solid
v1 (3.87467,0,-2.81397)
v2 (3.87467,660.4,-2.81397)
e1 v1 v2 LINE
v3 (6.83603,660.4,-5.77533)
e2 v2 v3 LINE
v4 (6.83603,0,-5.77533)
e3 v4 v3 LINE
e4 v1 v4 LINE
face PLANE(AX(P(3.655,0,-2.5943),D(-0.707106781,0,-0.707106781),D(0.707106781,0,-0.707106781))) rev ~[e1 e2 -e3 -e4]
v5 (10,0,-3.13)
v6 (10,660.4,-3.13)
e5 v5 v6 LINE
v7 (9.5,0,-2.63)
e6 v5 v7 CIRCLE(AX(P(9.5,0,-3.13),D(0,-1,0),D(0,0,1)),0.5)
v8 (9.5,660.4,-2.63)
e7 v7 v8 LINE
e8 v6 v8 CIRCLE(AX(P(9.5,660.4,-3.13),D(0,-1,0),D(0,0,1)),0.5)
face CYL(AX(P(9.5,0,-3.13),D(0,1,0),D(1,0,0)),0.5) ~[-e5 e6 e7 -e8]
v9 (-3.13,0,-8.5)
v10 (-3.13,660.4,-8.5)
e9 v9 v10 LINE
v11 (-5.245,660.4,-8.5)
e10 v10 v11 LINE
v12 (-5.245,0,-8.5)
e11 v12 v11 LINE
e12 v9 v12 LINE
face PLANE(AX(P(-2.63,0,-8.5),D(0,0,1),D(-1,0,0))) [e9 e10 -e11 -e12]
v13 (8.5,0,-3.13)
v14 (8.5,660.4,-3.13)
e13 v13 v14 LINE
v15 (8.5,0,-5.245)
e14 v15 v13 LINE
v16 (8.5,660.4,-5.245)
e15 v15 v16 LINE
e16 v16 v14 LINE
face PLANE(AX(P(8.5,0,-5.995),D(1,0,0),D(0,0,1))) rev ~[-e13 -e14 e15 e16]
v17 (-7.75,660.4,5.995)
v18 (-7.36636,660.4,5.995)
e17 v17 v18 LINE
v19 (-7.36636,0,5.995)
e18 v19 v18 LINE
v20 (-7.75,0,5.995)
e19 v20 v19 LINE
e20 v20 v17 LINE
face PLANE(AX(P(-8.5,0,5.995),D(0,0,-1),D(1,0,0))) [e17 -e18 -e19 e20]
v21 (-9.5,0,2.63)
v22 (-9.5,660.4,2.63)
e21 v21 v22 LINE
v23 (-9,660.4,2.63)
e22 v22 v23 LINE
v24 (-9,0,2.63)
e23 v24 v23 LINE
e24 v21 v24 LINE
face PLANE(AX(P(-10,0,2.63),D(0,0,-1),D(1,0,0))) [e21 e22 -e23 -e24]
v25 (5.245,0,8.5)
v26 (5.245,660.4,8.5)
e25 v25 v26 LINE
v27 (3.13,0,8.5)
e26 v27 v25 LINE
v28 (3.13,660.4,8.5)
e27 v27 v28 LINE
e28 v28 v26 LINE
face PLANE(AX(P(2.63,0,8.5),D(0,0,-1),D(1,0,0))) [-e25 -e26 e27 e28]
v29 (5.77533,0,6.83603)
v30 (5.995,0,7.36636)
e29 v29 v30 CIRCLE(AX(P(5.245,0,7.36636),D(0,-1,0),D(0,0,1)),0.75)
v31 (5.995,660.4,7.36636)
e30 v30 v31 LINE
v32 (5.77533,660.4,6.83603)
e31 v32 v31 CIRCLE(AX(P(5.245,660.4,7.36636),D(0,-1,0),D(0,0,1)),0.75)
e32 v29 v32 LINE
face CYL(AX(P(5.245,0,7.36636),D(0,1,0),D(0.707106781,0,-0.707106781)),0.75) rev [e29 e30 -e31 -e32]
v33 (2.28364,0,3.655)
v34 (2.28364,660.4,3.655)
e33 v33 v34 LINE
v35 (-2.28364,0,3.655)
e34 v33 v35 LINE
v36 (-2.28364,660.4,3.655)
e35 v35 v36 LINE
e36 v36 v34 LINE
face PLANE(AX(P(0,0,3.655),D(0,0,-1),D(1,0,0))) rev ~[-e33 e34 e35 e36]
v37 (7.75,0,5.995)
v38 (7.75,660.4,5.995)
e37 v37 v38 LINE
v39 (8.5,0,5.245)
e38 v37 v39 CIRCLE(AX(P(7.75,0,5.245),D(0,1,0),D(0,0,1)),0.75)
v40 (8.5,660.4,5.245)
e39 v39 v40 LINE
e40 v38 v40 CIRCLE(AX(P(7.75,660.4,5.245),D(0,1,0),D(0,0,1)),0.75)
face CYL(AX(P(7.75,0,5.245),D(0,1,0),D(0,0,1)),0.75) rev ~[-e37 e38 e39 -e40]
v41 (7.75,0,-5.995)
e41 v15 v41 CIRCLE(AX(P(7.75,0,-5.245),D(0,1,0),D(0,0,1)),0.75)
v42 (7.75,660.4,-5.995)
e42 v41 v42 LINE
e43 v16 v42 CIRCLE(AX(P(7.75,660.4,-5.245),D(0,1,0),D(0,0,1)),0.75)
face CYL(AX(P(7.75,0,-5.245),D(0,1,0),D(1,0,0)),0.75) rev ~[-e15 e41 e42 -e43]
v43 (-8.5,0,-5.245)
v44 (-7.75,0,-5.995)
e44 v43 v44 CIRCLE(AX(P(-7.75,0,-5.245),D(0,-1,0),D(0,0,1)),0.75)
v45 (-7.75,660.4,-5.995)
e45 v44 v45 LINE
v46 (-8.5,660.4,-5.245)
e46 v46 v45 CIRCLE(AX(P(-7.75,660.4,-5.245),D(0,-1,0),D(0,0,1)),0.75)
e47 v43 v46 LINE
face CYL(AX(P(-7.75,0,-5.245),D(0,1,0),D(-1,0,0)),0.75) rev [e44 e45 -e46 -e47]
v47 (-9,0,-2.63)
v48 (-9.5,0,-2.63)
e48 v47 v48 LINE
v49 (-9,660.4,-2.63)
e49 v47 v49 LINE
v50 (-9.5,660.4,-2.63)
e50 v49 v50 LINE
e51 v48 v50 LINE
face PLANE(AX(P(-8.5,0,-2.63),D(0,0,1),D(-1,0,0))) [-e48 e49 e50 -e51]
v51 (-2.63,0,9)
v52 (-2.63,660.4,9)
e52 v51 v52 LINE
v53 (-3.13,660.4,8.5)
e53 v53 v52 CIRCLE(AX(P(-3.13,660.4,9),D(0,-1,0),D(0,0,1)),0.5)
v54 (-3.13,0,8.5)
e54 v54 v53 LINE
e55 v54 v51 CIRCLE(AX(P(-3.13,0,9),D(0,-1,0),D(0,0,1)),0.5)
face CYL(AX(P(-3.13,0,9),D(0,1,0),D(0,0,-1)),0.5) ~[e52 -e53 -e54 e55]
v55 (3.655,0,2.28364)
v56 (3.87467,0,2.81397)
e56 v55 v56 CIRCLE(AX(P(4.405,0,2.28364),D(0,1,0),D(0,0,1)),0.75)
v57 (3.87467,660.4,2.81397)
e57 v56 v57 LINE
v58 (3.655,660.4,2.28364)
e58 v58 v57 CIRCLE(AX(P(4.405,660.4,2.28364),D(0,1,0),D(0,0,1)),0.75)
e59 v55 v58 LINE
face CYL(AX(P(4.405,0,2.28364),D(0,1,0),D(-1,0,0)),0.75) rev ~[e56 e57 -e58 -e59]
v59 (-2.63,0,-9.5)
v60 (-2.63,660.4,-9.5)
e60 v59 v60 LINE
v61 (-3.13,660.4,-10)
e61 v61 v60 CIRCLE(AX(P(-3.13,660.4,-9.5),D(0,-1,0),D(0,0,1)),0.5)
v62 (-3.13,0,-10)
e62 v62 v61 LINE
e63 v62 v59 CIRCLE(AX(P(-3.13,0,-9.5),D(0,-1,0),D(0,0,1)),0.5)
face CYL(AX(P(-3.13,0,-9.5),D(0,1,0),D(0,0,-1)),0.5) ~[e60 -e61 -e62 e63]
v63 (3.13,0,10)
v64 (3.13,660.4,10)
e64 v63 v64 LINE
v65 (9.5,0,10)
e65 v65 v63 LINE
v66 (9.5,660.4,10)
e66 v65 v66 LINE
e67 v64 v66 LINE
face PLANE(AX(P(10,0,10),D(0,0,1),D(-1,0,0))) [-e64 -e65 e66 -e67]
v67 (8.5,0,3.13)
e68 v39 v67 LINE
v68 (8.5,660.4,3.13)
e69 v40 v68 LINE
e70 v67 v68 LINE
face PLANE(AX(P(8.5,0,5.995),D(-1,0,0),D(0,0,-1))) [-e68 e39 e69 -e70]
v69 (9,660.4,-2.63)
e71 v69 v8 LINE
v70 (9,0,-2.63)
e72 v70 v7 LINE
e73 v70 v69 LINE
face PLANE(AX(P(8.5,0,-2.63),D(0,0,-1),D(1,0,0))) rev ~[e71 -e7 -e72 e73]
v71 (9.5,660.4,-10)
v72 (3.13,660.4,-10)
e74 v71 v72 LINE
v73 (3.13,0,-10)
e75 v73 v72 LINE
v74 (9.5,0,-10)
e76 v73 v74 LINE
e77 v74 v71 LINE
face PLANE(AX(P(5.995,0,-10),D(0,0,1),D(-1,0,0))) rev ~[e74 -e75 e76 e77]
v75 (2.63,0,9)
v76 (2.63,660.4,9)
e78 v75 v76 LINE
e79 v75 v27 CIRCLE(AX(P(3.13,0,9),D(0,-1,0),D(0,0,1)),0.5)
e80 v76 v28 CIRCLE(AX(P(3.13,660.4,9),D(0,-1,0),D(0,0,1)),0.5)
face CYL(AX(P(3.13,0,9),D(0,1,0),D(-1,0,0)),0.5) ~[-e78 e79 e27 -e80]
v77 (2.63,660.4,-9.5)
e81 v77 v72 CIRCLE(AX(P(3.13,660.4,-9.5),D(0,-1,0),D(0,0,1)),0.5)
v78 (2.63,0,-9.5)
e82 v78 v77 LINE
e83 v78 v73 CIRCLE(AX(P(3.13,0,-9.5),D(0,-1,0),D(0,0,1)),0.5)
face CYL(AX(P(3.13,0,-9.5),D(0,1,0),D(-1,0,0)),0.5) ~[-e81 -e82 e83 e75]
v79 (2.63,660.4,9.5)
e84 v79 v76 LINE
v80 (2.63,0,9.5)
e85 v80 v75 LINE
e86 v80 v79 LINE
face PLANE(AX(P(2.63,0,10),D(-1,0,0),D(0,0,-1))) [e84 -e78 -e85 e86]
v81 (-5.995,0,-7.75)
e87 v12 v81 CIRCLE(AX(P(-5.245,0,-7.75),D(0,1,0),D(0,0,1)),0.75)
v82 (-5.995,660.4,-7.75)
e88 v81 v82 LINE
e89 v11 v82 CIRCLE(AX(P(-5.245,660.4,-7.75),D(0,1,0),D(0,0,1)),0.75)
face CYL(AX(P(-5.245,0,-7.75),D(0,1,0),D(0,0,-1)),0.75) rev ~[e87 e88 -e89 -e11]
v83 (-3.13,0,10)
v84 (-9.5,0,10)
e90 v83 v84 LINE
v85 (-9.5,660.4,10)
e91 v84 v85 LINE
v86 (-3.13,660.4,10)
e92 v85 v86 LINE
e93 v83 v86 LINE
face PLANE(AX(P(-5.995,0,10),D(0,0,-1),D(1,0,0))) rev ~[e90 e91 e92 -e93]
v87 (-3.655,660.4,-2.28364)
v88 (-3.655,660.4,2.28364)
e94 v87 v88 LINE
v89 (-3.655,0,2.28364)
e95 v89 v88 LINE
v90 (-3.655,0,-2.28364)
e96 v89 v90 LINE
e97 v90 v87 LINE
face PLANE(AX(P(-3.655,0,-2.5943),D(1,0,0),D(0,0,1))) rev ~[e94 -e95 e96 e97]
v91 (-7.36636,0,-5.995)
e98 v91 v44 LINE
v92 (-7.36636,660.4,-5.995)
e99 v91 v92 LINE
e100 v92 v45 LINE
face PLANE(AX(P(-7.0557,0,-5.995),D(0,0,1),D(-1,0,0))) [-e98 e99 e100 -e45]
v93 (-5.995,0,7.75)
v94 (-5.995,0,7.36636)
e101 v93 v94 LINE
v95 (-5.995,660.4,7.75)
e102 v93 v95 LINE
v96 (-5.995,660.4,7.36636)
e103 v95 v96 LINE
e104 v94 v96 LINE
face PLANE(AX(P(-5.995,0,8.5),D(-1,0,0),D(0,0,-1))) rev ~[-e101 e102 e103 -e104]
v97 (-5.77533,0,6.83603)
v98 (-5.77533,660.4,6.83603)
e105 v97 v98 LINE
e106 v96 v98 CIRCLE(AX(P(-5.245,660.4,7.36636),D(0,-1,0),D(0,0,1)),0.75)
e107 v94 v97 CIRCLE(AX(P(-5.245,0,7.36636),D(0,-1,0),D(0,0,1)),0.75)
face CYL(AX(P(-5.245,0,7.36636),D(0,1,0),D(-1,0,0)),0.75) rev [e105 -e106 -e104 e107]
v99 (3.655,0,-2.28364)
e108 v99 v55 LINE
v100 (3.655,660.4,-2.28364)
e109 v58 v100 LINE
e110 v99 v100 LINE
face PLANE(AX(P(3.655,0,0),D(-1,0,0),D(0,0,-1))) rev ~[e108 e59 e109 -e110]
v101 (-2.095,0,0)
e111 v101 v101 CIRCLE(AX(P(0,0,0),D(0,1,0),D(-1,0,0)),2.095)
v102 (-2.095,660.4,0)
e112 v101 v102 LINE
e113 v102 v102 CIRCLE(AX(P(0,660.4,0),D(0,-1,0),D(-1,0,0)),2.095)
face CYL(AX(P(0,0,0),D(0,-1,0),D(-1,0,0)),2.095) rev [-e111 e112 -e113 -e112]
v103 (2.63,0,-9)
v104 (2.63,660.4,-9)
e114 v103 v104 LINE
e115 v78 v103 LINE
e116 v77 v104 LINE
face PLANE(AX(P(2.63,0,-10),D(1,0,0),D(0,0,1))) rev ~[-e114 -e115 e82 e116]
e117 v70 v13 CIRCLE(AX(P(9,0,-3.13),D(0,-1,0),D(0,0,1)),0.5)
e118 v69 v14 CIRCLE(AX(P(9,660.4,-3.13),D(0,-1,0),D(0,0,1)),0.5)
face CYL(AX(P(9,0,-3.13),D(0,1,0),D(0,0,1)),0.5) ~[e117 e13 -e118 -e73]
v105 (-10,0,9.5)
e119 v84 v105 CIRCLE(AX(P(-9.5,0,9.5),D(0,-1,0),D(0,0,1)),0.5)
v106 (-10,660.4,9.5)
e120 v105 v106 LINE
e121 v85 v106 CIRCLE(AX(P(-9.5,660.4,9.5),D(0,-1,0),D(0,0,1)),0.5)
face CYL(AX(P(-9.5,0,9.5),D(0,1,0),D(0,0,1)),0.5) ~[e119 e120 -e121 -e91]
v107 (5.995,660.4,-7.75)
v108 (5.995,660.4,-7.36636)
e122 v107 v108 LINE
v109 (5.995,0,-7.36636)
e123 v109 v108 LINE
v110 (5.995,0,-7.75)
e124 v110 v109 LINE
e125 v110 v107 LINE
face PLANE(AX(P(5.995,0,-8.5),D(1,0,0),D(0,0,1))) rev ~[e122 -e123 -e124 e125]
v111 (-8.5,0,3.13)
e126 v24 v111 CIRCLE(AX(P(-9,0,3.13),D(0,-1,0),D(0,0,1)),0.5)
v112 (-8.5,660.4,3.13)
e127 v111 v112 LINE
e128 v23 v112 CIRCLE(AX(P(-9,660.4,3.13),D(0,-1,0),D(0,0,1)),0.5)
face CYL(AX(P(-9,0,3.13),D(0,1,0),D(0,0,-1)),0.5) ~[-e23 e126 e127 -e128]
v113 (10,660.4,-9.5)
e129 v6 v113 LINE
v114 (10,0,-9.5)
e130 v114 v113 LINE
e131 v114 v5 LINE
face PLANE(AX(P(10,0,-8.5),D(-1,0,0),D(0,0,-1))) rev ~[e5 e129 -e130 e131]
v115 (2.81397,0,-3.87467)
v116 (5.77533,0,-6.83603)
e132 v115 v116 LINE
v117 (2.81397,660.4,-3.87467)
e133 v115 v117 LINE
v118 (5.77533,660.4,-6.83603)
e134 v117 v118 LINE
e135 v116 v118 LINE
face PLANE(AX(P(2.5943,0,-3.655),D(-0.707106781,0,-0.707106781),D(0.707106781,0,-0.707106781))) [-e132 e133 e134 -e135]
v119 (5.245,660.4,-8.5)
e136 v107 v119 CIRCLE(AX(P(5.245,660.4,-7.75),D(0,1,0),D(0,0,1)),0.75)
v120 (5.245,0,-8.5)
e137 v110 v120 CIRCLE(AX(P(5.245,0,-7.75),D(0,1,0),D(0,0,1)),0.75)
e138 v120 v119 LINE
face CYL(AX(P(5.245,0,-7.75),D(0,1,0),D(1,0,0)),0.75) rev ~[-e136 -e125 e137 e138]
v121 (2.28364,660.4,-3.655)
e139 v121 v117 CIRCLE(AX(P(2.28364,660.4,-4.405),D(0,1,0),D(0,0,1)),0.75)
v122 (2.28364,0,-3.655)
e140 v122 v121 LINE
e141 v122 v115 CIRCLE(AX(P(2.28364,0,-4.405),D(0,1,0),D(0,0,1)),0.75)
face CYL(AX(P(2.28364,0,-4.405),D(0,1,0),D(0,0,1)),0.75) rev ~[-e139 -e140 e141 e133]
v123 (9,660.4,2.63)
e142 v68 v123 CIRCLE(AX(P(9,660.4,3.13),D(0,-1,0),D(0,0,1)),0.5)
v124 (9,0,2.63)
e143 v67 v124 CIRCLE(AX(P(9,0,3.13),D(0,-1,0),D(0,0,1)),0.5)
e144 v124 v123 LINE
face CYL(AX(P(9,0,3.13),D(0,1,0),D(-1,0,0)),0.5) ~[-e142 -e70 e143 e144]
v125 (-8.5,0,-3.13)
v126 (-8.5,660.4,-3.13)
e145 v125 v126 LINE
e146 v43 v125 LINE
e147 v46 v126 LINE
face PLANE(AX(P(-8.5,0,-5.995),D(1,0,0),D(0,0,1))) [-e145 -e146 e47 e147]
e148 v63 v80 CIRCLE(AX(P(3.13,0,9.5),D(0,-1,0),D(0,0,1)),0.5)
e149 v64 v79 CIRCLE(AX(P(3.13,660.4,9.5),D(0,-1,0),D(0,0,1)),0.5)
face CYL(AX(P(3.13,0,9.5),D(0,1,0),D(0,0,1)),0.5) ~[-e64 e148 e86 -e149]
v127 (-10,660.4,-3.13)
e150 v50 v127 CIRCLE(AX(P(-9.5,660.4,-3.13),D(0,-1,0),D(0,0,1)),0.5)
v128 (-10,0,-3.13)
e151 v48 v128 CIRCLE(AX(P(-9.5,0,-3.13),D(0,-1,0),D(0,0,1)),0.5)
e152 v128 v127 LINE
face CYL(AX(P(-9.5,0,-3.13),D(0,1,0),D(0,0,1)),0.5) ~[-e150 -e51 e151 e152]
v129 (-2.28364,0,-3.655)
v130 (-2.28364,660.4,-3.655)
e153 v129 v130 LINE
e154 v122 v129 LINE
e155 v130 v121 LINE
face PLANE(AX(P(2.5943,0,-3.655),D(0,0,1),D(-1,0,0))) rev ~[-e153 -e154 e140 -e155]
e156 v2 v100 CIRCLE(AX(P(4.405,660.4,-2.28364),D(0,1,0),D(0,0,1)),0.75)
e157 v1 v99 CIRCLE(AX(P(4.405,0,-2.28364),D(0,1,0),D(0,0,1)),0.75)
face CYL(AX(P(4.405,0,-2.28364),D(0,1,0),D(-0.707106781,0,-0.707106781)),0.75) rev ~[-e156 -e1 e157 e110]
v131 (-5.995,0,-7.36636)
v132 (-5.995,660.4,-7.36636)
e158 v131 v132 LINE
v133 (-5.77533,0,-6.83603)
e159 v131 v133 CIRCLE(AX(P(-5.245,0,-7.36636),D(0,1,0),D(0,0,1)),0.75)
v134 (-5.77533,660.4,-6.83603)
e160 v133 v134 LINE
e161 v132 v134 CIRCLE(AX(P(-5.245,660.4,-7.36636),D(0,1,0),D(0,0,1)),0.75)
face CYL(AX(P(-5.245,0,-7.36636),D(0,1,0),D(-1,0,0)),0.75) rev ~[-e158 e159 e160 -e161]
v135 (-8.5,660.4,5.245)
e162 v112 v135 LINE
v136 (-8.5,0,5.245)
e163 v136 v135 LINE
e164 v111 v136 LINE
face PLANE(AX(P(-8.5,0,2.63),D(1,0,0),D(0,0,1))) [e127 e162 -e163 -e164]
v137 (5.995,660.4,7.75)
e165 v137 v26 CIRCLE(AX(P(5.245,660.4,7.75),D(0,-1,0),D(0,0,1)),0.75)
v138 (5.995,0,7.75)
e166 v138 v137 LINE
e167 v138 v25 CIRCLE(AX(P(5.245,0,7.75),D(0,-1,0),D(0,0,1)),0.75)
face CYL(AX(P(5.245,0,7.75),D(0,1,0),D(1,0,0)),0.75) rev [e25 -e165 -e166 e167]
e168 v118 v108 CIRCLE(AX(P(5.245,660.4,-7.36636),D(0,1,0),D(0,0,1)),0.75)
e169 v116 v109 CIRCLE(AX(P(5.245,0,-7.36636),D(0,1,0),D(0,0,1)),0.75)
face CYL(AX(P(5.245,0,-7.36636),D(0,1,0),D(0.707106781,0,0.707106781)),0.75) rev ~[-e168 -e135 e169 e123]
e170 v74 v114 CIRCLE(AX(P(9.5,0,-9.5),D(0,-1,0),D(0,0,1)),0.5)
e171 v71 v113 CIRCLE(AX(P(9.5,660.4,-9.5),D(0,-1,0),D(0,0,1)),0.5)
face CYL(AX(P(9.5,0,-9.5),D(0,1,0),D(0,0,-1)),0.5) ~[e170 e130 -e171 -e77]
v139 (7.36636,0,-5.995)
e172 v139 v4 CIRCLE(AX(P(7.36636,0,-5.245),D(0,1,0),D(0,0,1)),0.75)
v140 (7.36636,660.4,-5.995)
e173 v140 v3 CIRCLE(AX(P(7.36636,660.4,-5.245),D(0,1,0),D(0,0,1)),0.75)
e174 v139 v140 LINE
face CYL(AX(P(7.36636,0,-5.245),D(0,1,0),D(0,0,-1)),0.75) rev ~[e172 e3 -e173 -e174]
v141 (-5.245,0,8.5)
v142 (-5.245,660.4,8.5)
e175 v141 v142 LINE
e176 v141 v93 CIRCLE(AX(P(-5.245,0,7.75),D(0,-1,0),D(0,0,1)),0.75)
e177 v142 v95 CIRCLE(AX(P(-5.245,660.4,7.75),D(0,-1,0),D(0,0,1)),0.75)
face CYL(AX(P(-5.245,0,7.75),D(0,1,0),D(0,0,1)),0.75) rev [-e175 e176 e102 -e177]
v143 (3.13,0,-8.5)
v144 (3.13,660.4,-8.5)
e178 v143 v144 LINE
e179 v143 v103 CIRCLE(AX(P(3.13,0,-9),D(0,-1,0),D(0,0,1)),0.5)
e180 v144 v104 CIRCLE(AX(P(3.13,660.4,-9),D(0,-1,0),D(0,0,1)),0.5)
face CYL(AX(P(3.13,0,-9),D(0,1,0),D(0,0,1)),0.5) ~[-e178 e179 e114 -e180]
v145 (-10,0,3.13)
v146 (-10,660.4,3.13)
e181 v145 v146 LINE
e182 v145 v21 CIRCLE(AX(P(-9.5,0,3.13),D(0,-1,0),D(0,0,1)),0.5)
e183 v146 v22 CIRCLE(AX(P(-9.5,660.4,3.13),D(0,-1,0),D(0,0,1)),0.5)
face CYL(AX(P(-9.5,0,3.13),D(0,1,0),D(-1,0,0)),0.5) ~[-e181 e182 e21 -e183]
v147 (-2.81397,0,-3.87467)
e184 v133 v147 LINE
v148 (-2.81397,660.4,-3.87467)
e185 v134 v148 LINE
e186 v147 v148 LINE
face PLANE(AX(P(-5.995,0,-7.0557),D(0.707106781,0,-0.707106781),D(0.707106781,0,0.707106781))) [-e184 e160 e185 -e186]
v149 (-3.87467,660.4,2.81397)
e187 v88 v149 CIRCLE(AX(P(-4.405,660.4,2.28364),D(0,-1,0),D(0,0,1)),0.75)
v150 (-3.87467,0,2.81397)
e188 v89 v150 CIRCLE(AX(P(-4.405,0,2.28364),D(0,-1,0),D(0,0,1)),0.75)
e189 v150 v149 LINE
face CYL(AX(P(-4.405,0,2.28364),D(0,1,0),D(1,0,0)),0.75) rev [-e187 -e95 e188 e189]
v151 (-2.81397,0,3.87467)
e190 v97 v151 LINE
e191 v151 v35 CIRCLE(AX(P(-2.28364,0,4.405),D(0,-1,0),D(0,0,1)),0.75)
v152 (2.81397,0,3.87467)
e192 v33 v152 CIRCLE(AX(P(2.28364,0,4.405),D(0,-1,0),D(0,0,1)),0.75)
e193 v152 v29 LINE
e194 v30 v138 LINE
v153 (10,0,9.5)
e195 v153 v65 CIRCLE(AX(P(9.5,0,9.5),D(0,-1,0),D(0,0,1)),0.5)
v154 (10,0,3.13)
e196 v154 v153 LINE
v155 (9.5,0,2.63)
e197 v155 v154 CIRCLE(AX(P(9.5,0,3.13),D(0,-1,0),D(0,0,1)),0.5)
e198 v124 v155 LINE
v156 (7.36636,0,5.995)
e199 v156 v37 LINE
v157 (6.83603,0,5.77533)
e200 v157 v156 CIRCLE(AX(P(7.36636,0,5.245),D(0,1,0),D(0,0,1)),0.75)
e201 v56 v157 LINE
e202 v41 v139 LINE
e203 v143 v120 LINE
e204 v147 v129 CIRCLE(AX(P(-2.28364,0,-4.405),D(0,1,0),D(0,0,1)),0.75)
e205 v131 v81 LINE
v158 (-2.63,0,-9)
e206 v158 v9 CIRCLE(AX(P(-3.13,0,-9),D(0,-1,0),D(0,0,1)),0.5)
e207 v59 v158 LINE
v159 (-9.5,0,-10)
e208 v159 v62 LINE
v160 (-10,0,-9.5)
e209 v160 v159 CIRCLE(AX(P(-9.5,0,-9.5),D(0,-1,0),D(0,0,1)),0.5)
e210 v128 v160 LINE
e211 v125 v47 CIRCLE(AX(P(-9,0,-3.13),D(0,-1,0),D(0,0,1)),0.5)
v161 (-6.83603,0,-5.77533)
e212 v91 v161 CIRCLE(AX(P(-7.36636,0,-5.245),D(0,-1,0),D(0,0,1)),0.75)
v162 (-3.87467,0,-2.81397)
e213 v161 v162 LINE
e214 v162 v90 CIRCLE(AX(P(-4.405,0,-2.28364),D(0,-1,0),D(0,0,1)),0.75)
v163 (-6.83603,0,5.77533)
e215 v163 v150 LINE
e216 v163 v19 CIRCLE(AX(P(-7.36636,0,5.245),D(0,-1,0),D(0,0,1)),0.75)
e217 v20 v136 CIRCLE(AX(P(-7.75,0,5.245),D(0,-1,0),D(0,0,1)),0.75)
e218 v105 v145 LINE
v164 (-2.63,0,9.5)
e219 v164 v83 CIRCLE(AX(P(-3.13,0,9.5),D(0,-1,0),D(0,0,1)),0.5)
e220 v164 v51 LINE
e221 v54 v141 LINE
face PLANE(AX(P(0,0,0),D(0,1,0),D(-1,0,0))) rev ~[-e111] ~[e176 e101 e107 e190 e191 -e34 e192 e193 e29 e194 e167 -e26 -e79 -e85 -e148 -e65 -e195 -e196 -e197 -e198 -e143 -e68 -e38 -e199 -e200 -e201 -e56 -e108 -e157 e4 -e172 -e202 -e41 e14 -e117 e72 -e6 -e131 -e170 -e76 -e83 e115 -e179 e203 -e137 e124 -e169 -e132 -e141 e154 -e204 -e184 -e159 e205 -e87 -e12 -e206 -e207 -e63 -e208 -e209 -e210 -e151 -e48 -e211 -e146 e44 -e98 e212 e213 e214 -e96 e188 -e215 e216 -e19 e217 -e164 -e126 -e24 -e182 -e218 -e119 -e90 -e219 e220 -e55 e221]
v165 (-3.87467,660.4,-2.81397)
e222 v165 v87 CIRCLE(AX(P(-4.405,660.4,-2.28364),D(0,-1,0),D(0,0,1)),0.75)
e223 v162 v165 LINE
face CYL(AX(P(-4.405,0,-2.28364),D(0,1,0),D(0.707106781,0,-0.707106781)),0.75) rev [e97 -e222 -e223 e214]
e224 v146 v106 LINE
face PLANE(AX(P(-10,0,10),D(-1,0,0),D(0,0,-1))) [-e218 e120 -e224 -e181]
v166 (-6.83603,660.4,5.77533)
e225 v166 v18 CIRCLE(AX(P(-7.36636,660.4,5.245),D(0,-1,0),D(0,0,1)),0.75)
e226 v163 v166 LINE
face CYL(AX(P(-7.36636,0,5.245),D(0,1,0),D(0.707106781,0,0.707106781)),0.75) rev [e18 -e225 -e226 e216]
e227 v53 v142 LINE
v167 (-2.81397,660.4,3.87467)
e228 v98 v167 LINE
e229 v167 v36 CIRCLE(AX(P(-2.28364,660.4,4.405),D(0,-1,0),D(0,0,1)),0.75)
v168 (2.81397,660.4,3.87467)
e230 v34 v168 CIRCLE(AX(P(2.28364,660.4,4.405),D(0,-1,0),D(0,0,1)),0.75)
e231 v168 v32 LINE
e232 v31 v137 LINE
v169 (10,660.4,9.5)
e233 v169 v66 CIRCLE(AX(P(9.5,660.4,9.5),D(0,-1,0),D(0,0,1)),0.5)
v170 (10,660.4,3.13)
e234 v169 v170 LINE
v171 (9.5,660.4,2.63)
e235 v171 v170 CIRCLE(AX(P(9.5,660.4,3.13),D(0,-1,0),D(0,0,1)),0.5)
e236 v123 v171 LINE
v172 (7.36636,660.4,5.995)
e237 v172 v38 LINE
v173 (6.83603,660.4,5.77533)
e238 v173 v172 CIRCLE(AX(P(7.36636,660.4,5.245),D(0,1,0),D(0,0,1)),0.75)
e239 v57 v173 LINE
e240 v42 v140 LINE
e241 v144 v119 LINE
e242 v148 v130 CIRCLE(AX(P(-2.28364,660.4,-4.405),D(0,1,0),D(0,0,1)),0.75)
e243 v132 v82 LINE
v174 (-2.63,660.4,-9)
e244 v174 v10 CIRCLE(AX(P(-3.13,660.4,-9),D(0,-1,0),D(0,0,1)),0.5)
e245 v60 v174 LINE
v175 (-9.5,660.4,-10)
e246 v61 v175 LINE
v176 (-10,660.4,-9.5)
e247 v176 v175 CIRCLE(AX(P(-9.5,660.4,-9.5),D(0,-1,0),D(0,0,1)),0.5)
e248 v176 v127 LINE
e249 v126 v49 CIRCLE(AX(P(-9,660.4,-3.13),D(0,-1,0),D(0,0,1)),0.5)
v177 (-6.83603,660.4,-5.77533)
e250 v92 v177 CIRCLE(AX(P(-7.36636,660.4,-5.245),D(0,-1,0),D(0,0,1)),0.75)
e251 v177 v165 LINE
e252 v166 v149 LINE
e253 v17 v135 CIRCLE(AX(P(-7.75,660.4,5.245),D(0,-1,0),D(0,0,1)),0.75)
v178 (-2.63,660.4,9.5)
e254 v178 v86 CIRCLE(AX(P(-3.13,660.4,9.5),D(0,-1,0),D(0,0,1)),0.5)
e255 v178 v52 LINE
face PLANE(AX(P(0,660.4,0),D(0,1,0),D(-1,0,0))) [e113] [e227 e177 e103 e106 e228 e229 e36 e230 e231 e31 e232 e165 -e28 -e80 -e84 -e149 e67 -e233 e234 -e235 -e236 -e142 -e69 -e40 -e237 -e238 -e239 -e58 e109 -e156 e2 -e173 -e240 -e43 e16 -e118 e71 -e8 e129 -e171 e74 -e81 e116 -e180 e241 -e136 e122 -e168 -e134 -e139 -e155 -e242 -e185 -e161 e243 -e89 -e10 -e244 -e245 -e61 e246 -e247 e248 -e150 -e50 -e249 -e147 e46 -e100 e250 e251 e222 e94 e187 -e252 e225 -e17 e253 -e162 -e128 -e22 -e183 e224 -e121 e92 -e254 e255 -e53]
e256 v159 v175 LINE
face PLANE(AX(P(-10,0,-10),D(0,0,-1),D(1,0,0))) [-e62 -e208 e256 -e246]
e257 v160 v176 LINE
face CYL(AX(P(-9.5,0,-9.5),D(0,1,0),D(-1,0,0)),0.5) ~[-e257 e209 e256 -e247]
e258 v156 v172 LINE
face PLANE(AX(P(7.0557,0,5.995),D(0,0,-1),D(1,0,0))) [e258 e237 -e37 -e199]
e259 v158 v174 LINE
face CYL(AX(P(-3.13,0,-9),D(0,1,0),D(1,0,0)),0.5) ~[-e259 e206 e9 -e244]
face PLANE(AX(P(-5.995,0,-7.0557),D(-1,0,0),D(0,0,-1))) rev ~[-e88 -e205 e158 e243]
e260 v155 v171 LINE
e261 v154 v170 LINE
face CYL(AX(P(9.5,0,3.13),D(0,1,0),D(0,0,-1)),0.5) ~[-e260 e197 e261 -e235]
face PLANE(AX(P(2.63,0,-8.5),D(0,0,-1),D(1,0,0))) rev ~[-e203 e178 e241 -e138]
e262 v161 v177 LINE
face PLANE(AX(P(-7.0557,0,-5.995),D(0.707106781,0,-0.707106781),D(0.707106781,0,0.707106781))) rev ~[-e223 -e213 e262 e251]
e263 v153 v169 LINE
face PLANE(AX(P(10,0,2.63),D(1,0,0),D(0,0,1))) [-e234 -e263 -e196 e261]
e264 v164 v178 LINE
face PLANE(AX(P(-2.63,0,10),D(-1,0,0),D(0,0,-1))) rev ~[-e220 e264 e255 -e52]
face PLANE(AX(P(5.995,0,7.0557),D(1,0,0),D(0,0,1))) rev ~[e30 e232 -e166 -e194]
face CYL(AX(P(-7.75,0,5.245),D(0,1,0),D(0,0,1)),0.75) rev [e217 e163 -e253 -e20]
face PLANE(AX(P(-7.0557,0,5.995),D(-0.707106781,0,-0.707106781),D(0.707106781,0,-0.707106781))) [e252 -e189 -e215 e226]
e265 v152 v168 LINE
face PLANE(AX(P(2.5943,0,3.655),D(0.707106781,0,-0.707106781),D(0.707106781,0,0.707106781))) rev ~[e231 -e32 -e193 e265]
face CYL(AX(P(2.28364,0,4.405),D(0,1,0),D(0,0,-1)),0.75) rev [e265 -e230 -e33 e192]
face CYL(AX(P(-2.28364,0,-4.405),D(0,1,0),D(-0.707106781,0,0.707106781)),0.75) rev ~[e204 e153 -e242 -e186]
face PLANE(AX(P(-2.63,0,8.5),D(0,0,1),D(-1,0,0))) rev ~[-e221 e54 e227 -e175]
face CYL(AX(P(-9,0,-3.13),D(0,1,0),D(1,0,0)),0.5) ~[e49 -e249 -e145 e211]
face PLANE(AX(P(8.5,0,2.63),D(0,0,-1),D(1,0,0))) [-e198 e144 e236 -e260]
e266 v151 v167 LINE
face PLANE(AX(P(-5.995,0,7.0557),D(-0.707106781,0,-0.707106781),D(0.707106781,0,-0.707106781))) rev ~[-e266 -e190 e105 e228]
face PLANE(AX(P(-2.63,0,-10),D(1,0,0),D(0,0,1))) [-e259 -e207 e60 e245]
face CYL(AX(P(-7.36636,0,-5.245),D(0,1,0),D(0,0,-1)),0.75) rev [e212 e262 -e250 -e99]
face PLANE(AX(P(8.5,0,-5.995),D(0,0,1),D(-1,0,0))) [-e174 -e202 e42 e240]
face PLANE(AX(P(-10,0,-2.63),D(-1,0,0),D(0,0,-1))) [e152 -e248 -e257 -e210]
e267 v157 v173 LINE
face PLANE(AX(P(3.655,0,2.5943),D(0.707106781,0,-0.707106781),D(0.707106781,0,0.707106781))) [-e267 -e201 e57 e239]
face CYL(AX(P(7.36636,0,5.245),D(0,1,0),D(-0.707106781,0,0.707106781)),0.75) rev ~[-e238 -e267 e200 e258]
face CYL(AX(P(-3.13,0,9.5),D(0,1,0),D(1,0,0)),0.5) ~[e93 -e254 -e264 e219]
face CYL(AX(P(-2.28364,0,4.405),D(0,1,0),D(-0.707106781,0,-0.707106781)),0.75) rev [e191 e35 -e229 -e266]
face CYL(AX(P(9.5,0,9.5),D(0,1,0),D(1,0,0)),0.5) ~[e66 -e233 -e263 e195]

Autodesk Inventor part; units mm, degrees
ref_plane "YZ Plane" through (0, 0, 0) normal (1, 0, 0) x (0, 1, 0)
ref_plane "XZ Plane" through (0, 0, 0) normal (0, 1, 0) x (-1, 0, 0)
ref_plane "XY Plane" through (0, 0, 0) normal (0, 0, 1) x (1, 0, 0)
sketch "Sketch1" plane through (0, 0, 0) normal (0, 1, 0) x (-1, 0, 0)
  line L0 (0, -14) -> (0, 14) projected
  line L1 (-14, 0) -> (14, 0) projected
  line L2 (14, 0) -> (-14, 0) projected
  line L3 (0, -14) -> (0, 14) projected
  line L4 (2.5943, 3.655) -> (-2.5943, 3.655)
  line L5 (-3.655, 2.5943) -> (-3.655, -2.5943)
  line L6 (-2.5943, -3.655) -> (2.5943, -3.655)
  line L7 (3.655, -2.5943) -> (3.655, 2.5943)
  line L8 (-3.655, 3.655) -> (3.655, -3.655) construction
  line L9 (10, 10) -> (10, 2.63)
  line L10 (10, 2.63) -> (8.5, 2.63)
  line L11 (10, 10) -> (2.63, 10)
  line L12 (2.63, 10) -> (2.63, 8.5)
  line L13 (-10, 10) -> (-2.63, 10)
  line L14 (-2.63, 10) -> (-2.63, 8.5)
  line L15 (-10, 8.5) -> (-10, 10)
  line L16 (-10, 10) -> (-8.5, 10)
  line L17 (-8.5, 2.63) -> (-10, 2.63)
  line L18 (-10, 2.63) -> (-10, 10)
  line L19 (-10, -10) -> (-8.5, -10)
  line L20 (-8.5, -2.63) -> (-10, -2.63)
  line L21 (-10, -2.63) -> (-10, -10)
  line L22 (-10, -10) -> (-2.63, -10)
  line L23 (-2.63, -10) -> (-2.63, -8.5)
  line L24 (-10, -8.5) -> (-10, -10)
  line L25 (10, -10) -> (8.5, -10)
  line L26 (8.5, -2.63) -> (10, -2.63)
  line L27 (10, -2.63) -> (10, -10)
  line L28 (10, -10) -> (2.63, -10)
  line L29 (2.63, -10) -> (2.63, -8.5)
  line L30 (10, -8.5) -> (10, -10)
  circle A0 centre (0, 0) radius 2.095
  line L31 (5.995, -10) -> (2.63, -10)
  line L32 (-2.63, -10) -> (-5.995, -10)
  line L33 (10, -10) -> (2.63, -10)
  line L34 (-2.63, -10) -> (-10, -10)
  line L35 (10, -5.995) -> (10, -2.63)
  line L36 (10, 2.63) -> (10, 5.995)
  line L37 (10, 10) -> (10, 2.63)
  line L38 (10, -2.63) -> (10, -10)
  line L39 (-5.995, 10) -> (-2.63, 10)
  line L40 (2.63, 10) -> (5.995, 10)
  line L41 (-10, 10) -> (-2.63, 10)
  line L42 (2.63, 10) -> (10, 10)
  line L43 (-10, 5.995) -> (-10, 2.63)
  line L44 (-10, -2.63) -> (-10, -5.995)
  line L45 (-10, -10) -> (-10, -2.63)
  line L46 (-10, 2.63) -> (-10, 10)
  line L47 (-2.63, -8.5) -> (-5.995, -8.5)
  line L48 (-8.5, -5.995) -> (-8.5, -2.63)
  line L49 (-8.5, -5.995) -> (-7.0557, -5.995)
  line L50 (-5.995, -8.5) -> (-5.995, -7.0557)
  line L51 (-5.995, 7.0557) -> (-5.995, 8.5)
  line L52 (2.63, 8.5) -> (5.995, 8.5)
  line L53 (8.5, 2.63) -> (8.5, 5.995)
  line L54 (8.5, 5.995) -> (7.0557, 5.995)
  line L55 (5.995, 8.5) -> (5.995, 7.0557)
  line L56 (2.63, -8.5) -> (5.995, -8.5)
  line L57 (9.5607, -8.5) -> (10, -8.5)
  line L58 (8.5, -10) -> (8.5, -9.5607)
  line L59 (8.5, -5.995) -> (8.5, -2.63)
  line L60 (7.0557, -5.995) -> (8.5, -5.995)
  line L61 (5.995, -7.0557) -> (5.995, -8.5)
  line L62 (3.655, 3.655) -> (-0.5303, -0.5303) construction
  line L63 (-1.4814, -1.4814) -> (-3.655, -3.655) construction
  line L64 (-8.5, 10) -> (-8.5, 9.5607)
  line L65 (-8.5, 5.995) -> (-8.5, 2.63)
  line L66 (-2.63, 8.5) -> (-5.995, 8.5)
  line L67 (-9.5607, 8.5) -> (-10, 8.5)
  line L68 (-7.0557, 5.995) -> (-8.5, 5.995)
  line L69 (-3.655, 2.5943) -> (-7.0557, 5.995)
  line L70 (-2.5943, 3.655) -> (-5.995, 7.0557)
  line L71 (5.995, 7.0557) -> (2.5943, 3.655)
  line L72 (7.0557, 5.995) -> (3.655, 2.5943)
  line L73 (7.0557, -5.995) -> (3.655, -2.5943)
  line L74 (5.995, -7.0557) -> (2.5943, -3.655)
  line L75 (-2.5943, -3.655) -> (-5.995, -7.0557)
  line L76 (-3.655, -2.5943) -> (-7.0557, -5.995)
  dimension "d26" = 4.19
  dimension "d0" = 20
  dimension "d1" = 20
  dimension "d2" = 7.31
  dimension "d3" = 7.31
  dimension "d4" = 20
  dimension "d5" = 11.99
  dimension "d6" = 11.99
  dimension "d11" = 7.37
  dimension "d12" = 1.5
  dimension "d13" = 7.37
  dimension "d14" = 1.5
  dimension "d15" = 7.37
  dimension "d16" = 1.5
  dimension "d17" = 7.37
  dimension "d18" = 1.5
  dimension "d19" = 7.37
  dimension "d20" = 7.37
  dimension "d21" = 1.5
  dimension "d22" = 1.5
  dimension "d23" = 7.37
  dimension "d24" = 7.37
  dimension "d25" = 1.5
extrude "Extrusion1" add sketch "Sketch1" along normal blind 660.4 contours L6 L75 L50 L47 L23 L22 L19 L21 L20 L48 L49 L76 L5 L1 A0 L0 | L0 A0 L1 L7 L73 L60 L59 L26 L27 L25 L28 L29 L56 L61 L74 L6 | L1 L5 L69 L68 L65 L17 L18 L15 L13 L14 L66 L51 L70 L4 L0 A0 | A0 L0 L4 L71 L55 L52 L12 L11 L9 L10 L53 L54 L72 L7 L1
fillet "Fillet1" radius 0.5 20 edges at (10, 330.2, 10) (2.63, 330.2, 10) (-2.63, 330.2, 10) (-2.63, 330.2, 8.5) (10, 330.2, 2.63) (8.5, 330.2, 2.63) (10, 330.2, -2.63) (8.5, 330.2, -2.63) (10, 330.2, -10) (2.63, 330.2, -8.5) (-2.63, 330.2, -10) (-2.63, 330.2, -8.5) (2.63, 330.2, -10) (-10, 330.2, -10) (-8.5, 330.2, -2.63) (-10, 330.2, -2.63) (-8.5, 330.2, 2.63) (-10, 330.2, 2.63) (-10, 330.2, 10) (2.63, 330.2, 8.5)
fillet "Fillet2" radius 0.75 24 edges at (-7.0557, 330.2, 5.995) (-3.655, 330.2, 2.5943) (-8.5, 330.2, -5.995) (-7.0557, 330.2, -5.995) (-5.995, 330.2, -8.5) (3.655, 330.2, -2.5943) (7.0557, 330.2, -5.995) (-2.5943, 330.2, 3.655) (-5.995, 330.2, 7.0557) (3.655, 330.2, 2.5943) (7.0557, 330.2, 5.995) (8.5, 330.2, 5.995) (8.5, 330.2, -5.995) (2.5943, 330.2, 3.655) (5.995, 330.2, 7.0557) (5.995, 330.2, 8.5) (-5.995, 330.2, 8.5) (-8.5, 330.2, 5.995) (2.5943, 330.2, -3.655) (5.995, 330.2, -7.0557) (5.995, 330.2, -8.5) (-5.995, 330.2, -7.0557) (-2.5943, 330.2, -3.655) (-3.655, 330.2, -2.5943)
properties part number "pro36in"
